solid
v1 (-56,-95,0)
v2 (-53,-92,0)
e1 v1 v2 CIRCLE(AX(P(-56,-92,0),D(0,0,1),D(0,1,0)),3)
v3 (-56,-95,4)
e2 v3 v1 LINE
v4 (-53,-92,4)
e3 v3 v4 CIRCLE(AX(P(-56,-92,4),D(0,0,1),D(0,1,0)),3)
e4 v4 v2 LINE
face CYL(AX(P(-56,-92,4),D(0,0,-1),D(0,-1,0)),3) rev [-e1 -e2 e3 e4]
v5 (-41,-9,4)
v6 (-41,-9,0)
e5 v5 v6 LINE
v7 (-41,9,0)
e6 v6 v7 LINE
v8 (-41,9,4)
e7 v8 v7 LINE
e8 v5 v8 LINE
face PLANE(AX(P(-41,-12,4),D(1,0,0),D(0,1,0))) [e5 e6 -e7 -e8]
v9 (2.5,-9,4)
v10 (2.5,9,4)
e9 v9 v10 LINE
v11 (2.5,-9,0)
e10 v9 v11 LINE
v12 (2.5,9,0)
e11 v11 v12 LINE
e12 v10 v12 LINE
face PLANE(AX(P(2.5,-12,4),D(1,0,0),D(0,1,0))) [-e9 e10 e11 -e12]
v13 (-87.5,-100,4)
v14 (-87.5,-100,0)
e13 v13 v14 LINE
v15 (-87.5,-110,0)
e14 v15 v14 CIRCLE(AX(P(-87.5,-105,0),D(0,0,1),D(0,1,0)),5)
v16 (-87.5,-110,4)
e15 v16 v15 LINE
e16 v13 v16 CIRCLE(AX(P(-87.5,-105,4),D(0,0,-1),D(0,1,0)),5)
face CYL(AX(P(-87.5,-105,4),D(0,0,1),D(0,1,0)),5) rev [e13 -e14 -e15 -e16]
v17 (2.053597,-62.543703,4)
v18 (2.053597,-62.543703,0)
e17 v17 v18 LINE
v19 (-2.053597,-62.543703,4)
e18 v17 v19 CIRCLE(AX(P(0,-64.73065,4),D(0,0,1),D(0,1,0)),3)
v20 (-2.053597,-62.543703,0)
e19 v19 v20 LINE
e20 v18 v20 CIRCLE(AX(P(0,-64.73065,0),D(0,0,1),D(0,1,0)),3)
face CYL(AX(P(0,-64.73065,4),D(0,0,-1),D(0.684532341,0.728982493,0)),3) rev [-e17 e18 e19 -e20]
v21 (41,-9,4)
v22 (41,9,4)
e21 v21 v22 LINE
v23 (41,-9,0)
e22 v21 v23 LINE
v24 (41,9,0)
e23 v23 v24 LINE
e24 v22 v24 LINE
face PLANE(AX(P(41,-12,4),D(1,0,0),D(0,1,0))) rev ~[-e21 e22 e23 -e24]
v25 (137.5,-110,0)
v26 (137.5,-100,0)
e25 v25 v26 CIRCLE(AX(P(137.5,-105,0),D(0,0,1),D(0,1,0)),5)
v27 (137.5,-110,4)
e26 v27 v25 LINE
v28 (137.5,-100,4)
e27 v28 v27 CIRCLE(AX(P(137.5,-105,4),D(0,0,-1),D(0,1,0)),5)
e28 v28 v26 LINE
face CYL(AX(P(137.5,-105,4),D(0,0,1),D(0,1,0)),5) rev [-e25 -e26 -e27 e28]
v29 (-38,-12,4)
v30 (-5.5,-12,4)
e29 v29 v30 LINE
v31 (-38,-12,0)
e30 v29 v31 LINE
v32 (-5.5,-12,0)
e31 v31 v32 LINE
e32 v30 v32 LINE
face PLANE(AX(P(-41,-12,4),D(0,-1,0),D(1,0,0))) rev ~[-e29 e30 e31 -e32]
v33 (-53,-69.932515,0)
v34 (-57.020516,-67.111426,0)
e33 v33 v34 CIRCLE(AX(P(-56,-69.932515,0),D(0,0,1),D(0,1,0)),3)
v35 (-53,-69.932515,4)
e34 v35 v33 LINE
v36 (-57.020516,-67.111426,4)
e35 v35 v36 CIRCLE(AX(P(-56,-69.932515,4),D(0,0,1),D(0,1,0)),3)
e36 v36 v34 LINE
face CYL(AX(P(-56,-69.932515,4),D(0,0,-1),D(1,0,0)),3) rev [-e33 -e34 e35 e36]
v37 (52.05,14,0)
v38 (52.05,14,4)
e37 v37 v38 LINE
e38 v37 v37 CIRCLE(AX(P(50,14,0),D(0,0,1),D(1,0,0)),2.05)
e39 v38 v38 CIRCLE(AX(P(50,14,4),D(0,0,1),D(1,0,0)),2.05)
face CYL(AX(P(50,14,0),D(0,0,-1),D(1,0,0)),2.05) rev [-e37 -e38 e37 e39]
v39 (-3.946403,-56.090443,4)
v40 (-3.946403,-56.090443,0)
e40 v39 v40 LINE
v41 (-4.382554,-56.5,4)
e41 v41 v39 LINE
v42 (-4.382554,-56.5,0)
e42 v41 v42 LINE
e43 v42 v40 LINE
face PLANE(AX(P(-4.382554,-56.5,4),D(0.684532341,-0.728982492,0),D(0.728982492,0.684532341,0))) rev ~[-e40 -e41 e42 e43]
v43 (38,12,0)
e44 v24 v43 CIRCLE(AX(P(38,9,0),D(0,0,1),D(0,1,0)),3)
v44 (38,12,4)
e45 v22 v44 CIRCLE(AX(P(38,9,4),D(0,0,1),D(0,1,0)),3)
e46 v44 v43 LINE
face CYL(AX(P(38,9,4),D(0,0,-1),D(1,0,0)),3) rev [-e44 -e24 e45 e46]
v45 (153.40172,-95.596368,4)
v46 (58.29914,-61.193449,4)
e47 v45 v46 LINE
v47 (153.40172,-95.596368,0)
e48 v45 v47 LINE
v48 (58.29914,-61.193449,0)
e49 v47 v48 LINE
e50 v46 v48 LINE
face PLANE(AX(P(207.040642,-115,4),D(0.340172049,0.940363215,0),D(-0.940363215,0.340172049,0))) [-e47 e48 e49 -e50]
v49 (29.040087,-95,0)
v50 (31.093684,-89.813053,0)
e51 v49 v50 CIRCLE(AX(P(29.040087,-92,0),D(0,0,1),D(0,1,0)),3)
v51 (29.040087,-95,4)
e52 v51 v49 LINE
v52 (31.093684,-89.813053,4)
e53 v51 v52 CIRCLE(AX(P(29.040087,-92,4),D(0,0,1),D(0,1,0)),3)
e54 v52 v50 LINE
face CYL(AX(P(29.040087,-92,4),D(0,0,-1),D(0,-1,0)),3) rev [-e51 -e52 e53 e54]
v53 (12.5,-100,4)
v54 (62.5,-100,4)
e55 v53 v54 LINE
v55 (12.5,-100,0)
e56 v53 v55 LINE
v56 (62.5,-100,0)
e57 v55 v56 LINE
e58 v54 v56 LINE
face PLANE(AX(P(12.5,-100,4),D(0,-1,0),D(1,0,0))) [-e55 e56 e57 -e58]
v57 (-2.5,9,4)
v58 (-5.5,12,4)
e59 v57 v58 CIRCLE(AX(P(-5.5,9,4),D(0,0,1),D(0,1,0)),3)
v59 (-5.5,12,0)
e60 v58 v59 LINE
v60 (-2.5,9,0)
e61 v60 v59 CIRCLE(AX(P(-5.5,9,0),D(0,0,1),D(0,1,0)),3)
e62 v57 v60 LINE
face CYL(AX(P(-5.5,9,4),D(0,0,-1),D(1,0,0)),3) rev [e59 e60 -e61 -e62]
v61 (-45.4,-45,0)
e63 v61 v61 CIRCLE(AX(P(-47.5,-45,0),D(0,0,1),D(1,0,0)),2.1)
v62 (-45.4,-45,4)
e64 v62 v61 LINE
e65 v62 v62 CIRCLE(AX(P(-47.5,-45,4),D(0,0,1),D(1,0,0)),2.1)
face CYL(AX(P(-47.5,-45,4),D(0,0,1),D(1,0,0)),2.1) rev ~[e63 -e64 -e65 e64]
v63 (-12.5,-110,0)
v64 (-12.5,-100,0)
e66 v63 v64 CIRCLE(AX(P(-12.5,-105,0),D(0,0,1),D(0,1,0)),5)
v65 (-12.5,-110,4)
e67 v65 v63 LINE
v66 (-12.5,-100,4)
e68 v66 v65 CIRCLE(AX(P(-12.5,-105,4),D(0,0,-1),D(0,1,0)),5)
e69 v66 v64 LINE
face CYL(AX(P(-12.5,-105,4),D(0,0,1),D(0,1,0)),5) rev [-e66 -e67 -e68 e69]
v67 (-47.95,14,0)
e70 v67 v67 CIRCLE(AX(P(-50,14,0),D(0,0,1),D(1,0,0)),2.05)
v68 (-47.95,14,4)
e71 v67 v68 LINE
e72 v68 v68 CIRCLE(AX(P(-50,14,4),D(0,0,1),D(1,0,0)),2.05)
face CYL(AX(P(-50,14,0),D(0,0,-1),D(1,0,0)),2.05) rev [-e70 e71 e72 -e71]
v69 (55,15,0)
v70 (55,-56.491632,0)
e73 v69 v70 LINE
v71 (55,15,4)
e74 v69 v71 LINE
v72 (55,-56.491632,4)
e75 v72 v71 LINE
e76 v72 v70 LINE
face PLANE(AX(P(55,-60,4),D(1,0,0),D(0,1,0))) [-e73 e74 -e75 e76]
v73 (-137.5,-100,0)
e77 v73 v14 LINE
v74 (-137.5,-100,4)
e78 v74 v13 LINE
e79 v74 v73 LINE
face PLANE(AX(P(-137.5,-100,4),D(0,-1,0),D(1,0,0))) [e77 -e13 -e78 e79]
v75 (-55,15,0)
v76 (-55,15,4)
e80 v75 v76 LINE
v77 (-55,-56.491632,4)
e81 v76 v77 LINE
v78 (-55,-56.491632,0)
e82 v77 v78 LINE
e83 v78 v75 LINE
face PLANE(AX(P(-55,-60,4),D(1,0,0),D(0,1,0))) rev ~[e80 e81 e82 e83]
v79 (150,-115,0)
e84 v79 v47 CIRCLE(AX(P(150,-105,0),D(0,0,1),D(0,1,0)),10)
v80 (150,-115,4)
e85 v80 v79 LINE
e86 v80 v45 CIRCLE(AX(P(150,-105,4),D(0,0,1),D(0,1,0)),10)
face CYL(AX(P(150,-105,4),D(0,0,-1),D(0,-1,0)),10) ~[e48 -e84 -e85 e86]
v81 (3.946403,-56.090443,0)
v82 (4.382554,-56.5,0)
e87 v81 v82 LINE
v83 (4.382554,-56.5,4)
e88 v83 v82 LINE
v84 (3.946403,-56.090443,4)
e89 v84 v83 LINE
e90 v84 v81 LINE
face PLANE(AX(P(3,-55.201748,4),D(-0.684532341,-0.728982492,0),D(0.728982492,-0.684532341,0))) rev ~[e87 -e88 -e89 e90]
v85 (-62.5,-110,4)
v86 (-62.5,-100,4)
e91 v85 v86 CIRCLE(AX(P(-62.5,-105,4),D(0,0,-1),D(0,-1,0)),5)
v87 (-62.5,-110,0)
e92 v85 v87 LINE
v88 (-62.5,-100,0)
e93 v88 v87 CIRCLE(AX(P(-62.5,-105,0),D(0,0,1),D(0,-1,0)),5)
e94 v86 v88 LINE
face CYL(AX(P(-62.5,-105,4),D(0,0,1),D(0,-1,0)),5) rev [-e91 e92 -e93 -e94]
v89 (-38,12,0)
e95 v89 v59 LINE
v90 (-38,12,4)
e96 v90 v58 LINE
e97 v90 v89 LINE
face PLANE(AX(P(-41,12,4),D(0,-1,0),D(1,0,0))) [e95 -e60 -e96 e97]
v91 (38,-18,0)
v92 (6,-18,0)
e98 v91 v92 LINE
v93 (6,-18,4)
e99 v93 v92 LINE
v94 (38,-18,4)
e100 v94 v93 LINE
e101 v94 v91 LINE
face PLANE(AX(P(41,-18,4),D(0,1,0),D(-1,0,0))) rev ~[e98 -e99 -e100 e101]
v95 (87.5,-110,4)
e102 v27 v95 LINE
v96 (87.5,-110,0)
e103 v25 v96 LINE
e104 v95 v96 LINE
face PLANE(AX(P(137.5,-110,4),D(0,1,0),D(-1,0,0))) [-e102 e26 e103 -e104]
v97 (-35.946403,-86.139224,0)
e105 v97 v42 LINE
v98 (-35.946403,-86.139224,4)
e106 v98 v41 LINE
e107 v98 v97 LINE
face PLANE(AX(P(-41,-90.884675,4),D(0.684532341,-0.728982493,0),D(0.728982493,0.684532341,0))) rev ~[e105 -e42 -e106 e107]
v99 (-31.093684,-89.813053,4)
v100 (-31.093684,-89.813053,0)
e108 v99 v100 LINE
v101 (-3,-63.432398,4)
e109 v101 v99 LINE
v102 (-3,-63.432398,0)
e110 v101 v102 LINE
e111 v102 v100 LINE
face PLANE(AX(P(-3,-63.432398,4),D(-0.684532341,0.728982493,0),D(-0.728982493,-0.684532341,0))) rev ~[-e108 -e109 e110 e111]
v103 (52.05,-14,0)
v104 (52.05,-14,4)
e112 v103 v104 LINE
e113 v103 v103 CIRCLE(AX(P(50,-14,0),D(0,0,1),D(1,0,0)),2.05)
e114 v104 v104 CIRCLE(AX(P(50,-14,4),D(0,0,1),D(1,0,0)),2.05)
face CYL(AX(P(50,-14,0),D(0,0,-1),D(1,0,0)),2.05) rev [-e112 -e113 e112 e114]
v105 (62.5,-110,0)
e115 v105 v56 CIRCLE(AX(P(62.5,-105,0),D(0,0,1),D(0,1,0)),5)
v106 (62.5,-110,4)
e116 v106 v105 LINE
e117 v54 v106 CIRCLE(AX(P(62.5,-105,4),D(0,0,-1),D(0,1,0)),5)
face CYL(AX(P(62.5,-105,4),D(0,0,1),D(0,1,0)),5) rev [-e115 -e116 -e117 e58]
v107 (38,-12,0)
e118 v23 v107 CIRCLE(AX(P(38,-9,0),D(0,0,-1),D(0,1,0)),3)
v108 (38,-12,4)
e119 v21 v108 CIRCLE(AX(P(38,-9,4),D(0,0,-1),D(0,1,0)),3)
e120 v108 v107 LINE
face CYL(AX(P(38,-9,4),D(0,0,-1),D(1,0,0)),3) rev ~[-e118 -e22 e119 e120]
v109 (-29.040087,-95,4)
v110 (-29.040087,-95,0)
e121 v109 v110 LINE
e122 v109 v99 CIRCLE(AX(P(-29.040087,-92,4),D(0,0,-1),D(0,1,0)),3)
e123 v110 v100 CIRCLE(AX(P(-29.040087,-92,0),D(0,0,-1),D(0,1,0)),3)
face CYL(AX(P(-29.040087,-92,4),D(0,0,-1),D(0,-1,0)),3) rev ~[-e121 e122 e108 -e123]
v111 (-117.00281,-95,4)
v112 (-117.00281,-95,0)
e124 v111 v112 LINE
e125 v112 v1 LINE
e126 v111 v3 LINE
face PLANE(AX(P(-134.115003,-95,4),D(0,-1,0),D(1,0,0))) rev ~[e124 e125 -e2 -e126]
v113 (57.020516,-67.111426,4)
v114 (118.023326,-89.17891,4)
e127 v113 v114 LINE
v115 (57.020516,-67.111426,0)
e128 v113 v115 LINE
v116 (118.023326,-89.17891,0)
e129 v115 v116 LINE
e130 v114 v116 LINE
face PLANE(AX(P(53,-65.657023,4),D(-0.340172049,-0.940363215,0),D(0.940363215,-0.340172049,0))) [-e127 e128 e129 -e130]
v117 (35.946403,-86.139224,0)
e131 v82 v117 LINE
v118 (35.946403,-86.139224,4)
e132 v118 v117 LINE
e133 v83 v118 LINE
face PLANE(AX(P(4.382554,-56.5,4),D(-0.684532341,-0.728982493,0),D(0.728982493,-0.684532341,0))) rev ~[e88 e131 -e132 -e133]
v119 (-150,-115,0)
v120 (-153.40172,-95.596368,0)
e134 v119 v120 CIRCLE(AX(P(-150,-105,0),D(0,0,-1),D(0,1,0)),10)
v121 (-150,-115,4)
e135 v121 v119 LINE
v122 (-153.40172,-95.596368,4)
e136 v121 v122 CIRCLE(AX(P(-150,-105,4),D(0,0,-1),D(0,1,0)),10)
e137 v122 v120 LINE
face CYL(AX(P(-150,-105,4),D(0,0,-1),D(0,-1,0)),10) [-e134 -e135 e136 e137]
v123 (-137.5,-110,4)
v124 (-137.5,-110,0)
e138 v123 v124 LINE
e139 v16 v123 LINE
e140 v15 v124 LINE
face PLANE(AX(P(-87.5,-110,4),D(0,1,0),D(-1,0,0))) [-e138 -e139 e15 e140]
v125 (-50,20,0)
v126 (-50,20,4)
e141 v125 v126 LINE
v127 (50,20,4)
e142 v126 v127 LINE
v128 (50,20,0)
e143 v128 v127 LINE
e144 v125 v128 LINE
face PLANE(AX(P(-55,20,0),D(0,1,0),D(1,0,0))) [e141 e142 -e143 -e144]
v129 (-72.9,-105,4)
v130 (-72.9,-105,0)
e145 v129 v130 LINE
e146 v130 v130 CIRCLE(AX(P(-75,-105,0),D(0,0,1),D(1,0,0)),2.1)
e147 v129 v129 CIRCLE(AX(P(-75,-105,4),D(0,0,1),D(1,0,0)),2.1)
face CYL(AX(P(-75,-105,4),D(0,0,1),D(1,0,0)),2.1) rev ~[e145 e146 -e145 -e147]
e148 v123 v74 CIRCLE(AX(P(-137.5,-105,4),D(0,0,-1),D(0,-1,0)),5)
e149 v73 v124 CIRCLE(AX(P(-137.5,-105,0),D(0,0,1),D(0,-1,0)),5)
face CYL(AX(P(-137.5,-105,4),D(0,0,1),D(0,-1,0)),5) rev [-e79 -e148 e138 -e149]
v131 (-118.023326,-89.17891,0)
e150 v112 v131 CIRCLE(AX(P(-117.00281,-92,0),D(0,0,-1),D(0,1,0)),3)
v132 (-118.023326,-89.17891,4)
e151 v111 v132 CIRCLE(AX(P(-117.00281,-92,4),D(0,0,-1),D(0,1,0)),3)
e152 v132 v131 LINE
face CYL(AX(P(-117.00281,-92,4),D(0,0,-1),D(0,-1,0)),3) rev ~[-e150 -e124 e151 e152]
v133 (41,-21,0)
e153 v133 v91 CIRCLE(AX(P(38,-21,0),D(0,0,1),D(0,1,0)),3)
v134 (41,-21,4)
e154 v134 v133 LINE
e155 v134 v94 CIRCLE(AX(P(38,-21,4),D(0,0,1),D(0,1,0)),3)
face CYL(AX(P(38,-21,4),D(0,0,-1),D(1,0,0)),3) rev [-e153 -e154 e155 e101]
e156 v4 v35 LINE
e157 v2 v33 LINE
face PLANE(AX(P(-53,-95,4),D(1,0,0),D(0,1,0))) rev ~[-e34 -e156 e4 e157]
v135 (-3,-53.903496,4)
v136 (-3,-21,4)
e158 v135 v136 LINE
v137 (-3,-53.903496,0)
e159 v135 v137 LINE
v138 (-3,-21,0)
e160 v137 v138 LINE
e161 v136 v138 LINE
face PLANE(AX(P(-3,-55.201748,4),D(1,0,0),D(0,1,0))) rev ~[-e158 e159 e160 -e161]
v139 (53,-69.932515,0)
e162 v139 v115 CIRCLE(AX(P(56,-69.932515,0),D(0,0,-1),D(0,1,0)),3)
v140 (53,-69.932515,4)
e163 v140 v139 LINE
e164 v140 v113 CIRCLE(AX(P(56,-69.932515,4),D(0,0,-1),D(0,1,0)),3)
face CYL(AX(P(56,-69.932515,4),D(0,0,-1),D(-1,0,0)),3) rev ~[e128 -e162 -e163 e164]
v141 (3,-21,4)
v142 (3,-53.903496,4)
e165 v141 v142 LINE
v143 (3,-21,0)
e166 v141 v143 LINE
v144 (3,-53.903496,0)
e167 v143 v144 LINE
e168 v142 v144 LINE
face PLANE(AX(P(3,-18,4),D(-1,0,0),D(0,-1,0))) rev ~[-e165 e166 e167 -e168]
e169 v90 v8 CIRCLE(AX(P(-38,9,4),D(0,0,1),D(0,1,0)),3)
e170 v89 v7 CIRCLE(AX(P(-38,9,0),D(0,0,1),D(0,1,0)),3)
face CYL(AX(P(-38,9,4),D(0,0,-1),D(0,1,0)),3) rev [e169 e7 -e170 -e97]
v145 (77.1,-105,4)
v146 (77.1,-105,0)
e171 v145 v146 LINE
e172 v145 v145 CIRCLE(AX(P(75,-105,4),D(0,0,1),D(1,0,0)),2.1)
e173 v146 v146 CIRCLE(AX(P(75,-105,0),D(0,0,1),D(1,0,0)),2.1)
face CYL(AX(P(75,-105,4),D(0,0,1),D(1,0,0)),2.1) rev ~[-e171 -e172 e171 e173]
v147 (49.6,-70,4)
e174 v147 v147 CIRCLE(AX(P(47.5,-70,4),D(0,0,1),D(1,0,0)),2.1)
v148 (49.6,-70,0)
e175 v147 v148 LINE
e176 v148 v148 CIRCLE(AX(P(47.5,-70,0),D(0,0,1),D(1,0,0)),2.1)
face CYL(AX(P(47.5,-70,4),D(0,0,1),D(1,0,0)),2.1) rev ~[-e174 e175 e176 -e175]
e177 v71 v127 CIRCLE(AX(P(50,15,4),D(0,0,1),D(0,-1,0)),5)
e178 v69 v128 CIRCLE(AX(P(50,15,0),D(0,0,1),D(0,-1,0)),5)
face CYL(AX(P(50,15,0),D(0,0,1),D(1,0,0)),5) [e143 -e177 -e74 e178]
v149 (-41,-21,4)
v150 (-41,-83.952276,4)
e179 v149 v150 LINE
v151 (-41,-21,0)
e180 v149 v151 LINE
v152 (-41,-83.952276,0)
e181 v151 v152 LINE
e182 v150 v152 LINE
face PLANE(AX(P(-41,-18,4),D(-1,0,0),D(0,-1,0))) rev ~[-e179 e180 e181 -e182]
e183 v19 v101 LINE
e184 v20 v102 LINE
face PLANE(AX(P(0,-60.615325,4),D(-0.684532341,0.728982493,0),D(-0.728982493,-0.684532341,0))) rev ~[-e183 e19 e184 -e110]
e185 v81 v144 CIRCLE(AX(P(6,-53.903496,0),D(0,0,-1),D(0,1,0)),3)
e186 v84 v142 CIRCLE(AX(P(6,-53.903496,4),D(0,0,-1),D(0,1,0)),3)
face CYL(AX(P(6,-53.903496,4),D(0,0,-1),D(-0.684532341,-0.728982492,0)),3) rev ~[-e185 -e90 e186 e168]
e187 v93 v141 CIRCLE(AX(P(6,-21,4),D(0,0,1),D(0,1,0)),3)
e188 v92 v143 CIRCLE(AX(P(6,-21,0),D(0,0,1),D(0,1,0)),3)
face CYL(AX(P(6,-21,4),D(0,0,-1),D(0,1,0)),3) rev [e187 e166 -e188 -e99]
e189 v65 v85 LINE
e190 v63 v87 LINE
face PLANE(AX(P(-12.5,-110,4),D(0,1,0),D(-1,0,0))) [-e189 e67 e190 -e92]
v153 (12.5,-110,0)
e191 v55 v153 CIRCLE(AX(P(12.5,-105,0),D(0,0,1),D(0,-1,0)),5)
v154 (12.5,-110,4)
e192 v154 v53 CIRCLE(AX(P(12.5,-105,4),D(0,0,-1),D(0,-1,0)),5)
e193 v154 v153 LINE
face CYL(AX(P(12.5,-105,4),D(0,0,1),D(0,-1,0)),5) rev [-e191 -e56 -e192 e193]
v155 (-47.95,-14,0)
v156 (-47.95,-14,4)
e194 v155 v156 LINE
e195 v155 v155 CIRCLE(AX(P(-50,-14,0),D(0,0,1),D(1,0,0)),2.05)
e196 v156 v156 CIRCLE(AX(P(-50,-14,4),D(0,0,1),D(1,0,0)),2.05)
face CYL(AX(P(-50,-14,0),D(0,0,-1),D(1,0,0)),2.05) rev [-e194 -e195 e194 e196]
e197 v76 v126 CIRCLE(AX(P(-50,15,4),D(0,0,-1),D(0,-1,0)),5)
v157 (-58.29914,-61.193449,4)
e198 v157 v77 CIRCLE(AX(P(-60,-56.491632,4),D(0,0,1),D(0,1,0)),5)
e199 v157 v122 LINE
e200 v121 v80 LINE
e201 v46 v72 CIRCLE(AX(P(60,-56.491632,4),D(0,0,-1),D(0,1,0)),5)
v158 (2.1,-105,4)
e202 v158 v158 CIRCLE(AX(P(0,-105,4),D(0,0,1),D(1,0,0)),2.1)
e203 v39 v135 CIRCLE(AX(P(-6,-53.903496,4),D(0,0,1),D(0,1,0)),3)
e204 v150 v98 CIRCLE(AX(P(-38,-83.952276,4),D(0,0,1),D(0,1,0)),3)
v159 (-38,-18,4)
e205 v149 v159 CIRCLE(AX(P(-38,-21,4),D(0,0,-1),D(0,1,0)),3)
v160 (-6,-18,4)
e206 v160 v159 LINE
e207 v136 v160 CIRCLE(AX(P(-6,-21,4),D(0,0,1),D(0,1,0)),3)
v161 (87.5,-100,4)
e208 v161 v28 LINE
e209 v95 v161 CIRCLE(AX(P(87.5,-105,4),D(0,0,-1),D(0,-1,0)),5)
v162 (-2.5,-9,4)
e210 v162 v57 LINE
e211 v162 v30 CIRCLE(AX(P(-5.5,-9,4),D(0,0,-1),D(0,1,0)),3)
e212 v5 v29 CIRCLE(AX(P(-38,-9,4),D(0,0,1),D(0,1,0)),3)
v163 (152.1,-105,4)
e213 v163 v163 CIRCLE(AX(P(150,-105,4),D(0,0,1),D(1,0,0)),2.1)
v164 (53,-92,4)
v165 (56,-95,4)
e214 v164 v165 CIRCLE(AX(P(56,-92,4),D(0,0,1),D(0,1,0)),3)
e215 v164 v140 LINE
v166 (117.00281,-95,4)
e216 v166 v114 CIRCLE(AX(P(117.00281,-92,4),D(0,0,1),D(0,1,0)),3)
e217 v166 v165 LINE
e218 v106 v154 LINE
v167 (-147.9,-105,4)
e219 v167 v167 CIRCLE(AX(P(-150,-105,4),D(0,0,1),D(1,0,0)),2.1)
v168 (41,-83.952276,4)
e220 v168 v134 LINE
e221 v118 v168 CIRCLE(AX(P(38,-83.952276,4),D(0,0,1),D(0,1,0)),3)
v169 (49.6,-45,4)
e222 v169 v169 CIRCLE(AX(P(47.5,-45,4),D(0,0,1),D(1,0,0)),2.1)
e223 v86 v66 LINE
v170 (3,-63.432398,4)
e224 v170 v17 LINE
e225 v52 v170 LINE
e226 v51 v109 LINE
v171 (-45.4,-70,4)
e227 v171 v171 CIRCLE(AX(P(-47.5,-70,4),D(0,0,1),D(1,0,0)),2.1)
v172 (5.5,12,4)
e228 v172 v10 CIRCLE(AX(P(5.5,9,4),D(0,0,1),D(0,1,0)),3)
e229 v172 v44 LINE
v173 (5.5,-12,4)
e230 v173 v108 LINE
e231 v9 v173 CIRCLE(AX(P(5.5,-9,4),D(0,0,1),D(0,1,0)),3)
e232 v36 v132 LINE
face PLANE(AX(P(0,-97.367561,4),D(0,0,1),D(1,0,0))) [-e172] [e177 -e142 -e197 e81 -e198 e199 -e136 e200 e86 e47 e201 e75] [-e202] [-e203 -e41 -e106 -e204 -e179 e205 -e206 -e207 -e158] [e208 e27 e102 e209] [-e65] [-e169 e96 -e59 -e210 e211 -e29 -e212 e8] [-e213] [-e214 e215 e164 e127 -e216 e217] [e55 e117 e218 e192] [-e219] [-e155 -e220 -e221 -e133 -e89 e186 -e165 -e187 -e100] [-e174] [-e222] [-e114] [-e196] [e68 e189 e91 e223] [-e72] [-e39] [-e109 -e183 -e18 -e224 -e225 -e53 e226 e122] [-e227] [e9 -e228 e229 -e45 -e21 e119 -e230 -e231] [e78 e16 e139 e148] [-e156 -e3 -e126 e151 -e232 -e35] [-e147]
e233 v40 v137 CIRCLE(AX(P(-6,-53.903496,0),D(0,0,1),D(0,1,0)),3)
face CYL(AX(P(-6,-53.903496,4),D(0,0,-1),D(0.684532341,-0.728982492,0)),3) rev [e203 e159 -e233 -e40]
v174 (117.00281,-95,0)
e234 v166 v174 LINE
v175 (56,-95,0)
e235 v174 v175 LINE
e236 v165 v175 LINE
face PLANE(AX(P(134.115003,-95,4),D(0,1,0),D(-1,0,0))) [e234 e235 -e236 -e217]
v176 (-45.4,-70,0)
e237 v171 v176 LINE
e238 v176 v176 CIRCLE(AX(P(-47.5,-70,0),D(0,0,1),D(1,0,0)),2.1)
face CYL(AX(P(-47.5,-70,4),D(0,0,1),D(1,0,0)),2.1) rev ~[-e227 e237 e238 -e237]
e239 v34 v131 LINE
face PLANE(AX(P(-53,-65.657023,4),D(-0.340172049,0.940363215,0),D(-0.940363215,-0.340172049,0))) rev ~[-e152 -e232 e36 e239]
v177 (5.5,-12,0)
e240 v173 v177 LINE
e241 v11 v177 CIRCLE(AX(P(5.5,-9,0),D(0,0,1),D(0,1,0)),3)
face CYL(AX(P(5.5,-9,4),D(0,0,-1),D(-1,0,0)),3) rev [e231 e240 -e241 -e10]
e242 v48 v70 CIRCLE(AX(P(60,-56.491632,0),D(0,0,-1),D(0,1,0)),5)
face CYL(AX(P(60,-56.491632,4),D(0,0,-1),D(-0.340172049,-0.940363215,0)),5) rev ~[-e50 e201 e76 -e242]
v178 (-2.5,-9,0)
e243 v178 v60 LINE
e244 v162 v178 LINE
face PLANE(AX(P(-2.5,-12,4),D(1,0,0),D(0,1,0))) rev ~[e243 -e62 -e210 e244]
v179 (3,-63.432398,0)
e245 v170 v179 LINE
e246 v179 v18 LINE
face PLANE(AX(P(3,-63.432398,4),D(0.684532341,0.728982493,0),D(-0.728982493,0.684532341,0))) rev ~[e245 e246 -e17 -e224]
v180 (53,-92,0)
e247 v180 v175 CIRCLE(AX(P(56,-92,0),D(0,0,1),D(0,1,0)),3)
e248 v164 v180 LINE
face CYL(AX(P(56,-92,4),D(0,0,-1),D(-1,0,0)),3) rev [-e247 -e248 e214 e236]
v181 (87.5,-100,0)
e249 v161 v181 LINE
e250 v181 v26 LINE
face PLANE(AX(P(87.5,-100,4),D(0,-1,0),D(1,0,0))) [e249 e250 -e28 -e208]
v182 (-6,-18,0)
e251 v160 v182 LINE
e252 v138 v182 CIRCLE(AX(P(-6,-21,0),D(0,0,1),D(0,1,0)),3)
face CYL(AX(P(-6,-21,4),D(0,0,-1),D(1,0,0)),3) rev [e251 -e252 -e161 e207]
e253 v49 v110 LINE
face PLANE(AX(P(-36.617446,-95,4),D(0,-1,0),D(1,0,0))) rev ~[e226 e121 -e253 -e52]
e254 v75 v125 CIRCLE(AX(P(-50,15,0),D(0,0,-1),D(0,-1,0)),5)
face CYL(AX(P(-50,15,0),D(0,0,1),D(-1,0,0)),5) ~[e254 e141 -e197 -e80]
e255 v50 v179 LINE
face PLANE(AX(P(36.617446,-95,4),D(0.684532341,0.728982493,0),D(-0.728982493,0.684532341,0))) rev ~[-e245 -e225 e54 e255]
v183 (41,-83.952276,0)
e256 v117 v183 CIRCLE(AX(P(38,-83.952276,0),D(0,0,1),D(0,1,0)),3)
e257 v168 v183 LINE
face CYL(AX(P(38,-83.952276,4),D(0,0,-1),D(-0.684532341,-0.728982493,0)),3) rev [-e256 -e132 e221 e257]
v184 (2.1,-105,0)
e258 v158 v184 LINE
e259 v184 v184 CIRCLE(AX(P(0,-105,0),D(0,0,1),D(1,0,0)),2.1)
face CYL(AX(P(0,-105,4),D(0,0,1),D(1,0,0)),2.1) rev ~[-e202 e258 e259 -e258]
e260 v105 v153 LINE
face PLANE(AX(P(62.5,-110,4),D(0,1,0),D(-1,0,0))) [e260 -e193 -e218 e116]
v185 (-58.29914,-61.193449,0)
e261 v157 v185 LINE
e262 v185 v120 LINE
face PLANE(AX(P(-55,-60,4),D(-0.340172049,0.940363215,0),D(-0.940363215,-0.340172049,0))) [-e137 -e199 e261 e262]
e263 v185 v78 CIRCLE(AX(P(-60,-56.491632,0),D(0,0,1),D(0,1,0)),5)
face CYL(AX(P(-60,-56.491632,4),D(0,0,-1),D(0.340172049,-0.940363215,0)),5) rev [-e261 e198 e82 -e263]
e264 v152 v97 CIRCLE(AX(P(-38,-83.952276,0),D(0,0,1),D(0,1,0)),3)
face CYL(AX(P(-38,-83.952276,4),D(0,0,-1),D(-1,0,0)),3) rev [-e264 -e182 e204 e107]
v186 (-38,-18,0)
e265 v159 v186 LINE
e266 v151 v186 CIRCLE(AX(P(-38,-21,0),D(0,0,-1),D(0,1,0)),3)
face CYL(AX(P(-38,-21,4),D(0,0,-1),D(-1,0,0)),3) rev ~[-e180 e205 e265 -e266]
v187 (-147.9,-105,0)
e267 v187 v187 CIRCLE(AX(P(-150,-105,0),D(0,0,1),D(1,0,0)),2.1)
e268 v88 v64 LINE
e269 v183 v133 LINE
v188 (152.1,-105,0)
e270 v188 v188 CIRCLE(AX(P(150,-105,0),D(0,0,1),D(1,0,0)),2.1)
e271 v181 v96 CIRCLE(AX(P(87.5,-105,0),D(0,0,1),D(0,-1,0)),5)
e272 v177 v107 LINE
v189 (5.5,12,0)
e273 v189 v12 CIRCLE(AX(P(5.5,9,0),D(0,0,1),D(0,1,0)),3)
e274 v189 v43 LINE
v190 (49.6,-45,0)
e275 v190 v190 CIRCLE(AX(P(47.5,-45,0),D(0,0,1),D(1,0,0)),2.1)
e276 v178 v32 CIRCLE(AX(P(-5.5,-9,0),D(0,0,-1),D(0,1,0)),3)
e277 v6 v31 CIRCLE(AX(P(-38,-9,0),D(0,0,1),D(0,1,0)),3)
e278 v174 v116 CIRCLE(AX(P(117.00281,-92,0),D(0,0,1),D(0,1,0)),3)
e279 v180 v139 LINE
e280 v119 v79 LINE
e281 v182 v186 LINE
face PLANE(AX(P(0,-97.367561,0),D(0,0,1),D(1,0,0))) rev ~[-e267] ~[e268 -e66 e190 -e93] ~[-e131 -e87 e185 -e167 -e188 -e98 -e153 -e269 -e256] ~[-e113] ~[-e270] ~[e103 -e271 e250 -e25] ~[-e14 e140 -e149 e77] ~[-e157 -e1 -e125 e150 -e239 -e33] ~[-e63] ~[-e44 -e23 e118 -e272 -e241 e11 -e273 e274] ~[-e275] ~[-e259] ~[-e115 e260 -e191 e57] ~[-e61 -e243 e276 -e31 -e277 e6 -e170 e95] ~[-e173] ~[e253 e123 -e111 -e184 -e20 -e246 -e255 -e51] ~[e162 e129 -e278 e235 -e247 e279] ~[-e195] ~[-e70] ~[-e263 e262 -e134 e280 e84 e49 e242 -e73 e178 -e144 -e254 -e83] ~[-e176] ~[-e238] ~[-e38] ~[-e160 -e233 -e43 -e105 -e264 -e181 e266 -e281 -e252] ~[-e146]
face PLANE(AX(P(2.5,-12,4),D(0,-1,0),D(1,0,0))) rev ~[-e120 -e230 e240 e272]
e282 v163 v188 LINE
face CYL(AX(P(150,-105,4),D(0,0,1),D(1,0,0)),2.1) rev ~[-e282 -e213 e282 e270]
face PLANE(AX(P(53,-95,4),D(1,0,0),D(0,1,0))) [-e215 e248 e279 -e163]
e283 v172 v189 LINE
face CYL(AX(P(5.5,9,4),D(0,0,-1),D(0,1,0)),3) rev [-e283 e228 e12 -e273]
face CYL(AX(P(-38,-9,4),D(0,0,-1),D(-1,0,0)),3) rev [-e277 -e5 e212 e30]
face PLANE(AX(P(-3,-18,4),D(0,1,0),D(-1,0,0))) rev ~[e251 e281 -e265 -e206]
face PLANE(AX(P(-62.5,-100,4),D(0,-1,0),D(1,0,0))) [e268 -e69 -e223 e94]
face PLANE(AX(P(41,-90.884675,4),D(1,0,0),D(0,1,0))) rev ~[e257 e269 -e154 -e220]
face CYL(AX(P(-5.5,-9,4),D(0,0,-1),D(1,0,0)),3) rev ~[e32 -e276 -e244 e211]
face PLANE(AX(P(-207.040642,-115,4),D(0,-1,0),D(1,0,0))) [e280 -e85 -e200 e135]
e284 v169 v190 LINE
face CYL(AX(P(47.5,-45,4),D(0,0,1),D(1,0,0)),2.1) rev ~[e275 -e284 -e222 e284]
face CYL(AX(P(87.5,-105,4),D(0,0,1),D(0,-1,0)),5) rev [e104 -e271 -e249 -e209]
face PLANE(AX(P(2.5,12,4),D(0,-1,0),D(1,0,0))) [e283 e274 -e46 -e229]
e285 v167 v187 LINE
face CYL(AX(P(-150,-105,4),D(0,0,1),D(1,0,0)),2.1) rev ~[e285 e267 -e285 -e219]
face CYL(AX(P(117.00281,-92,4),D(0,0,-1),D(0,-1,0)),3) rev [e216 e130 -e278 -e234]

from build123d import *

# Parameters (mm, degrees)
SKETCH_1_W          = 110
SKETCH_1_H          = 40
SKETCH_1_R          = 2.05
EXTRUDE_1_DEPTH     = 4
SKETCH_2_R          = 2.1
SKETCH_2_W          = 110
SKETCH_2_H          = 40
EXTRUDE_2_DEPTH     = 4
FILLET_3_R          = 10
FILLET_4_R          = 5
SKETCH_5_W          = 38.5
SKETCH_5_H          = 24
CUT_EXTRUDE_3_DEPTH = 10
CUT_EXTRUDE_4_DEPTH = 10
CUT_EXTRUDE_5_DEPTH = 10
FILLET_5_R          = 3
SKETCH_8_R          = 2.1
CUT_EXTRUDE_6_DEPTH = 10


with BuildPart() as part:
    # 草图1 → 凸台-拉伸1 (new body)
    with BuildSketch(Plane.XY):
        Rectangle(SKETCH_1_W, SKETCH_1_H)
        with Locations((-50, 14)):
            Circle(SKETCH_1_R, mode=Mode.SUBTRACT)
        with Locations((50, 14)):
            Circle(SKETCH_1_R, mode=Mode.SUBTRACT)
        with Locations((50, -14)):
            Circle(SKETCH_1_R, mode=Mode.SUBTRACT)
        with Locations((-50, -14)):
            Circle(SKETCH_1_R, mode=Mode.SUBTRACT)
    extrude(amount=EXTRUDE_1_DEPTH)

    # 草图2 → 凸台-拉伸2 (add)
    # profile 1 of 2: a face of its own
    with BuildSketch(Plane.XY.offset(4)):
        Polygon((-207.040642195, -115), (207.040642195, -115), (55, -60), (-55, -60), align=None)
        with Locations((150, -105)):
            Circle(SKETCH_2_R, mode=Mode.SUBTRACT)
        with Locations((75, -105)):
            Circle(SKETCH_2_R, mode=Mode.SUBTRACT)
        with Locations((0, -105)):
            Circle(SKETCH_2_R, mode=Mode.SUBTRACT)
        with Locations((-75, -105)):
            Circle(SKETCH_2_R, mode=Mode.SUBTRACT)
        with Locations((-150, -105)):
            Circle(SKETCH_2_R, mode=Mode.SUBTRACT)
    # profile 2 of 2: a face of its own
    with BuildSketch(Plane.XY.offset(4)):
        with Locations((0, -40)):
            Rectangle(SKETCH_2_W, SKETCH_2_H)
    extrude(amount=-EXTRUDE_2_DEPTH)

    # 圆角3
    fillet_3_edges = [part.edges().sort_by_distance(p)[0] for p in [
        (-207.040642195, -115, 2),
        (207.040642195, -115, 2),
    ]]
    fillet(fillet_3_edges, radius=FILLET_3_R)

    # 圆角4
    fillet_4_edges = [part.edges().sort_by_distance(p)[0] for p in [
        (55, -60, 2),
        (-55, -60, 2),
        (-55, 20, 2),
        (55, 20, 2),
    ]]
    fillet(fillet_4_edges, radius=FILLET_4_R)

    # 草图5 → 切除-拉伸3 (cut)
    with BuildSketch(Plane.XY.offset(4)):
        with Locations((-21.75, 0)):
            Rectangle(SKETCH_5_W, SKETCH_5_H)
        with Locations((21.75, 0)):
            Rectangle(SKETCH_5_W, SKETCH_5_H)
        Polygon((-3, -18), (-36.617445924, -18), (-3, -49.56760166), align=None)
        Polygon((-36.617445924, -18), (-41, -18), (-41, -22.115325169), (-4.382554076, -56.5), (-3, -55.201748001), (-3, -49.56760166), align=None)
        Polygon((-4.382554076, -56.5), (-41, -22.115325169), (-41, -90.884674831), align=None)
        Polygon((36.617445924, -18), (3, -18), (3, -49.56760166), align=None)
        Polygon((41, -18), (36.617445924, -18), (3, -49.56760166), (3, -55.201748001), (4.382554076, -56.5), (41, -22.115325169), align=None)
        Polygon((41, -22.115325169), (4.382554076, -56.5), (41, -90.884674831), align=None)
        Polygon((36.617445924, -95), (3, -63.43239834), (3, -95), align=None)
        Polygon((-3, -63.43239834), (-36.617445924, -95), (-3, -95), align=None)
    extrude(amount=-CUT_EXTRUDE_3_DEPTH, mode=Mode.SUBTRACT)

    # 草图6 → 切除-拉伸4 (cut)
    with BuildSketch(Plane.XY.offset(4)):
        with BuildLine():
            Line((-137.5, -100), (-87.5, -100))
            ThreePointArc((-87.5, -100), (-82.5, -105), (-87.5, -110))
            Line((-87.5, -110), (-137.5, -110))
            ThreePointArc((-137.5, -110), (-142.5, -105), (-137.5, -100))
        make_face()
        with BuildLine():
            Line((-62.5, -100), (-12.5, -100))
            ThreePointArc((-12.5, -100), (-7.5, -105), (-12.5, -110))
            Line((-12.5, -110), (-62.5, -110))
            ThreePointArc((-62.5, -110), (-67.5, -105), (-62.5, -100))
        make_face()
        with BuildLine():
            Line((12.5, -100), (62.5, -100))
            ThreePointArc((62.5, -100), (67.5, -105), (62.5, -110))
            Line((62.5, -110), (12.5, -110))
            ThreePointArc((12.5, -110), (7.5, -105), (12.5, -100))
        make_face()
        with BuildLine():
            Line((87.5, -100), (137.5, -100))
            ThreePointArc((137.5, -100), (142.5, -105), (137.5, -110))
            Line((137.5, -110), (87.5, -110))
            ThreePointArc((87.5, -110), (82.5, -105), (87.5, -100))
        make_face()
        Polygon((-53, -65.657022536), (-134.115002501, -95), (-53, -95), align=None)
        Polygon((134.115002501, -95), (53, -95), (53, -65.657022536), align=None)
    extrude(amount=-CUT_EXTRUDE_4_DEPTH, mode=Mode.SUBTRACT)

    # 草图7 → 切除-拉伸5 (cut)
    with BuildSketch(Plane.XY.offset(4)):
        Polygon((-3, -95), (3, -95), (3, -63.43239834), (0, -60.615325169), (-3, -63.43239834), align=None)
    extrude(amount=-CUT_EXTRUDE_5_DEPTH, mode=Mode.SUBTRACT)

    # 圆角5
    fillet_5_edges = [part.edges().sort_by_distance(p)[0] for p in [
        (3, -18, 2),
        (41, -18, 2),
        (41, -90.884674831, 2),
        (3, -55.201748001, 2),
        (36.617445924, -95, 2),
        (-3, -18, 2),
        (-3, -55.201748001, 2),
        (-41, -90.884674831, 2),
        (-41, -18, 2),
        (2.5, 12, 2),
        (41, 12, 2),
        (41, -12, 2),
        (2.5, -12, 2),
        (-36.617445924, -95, 2),
        (-2.5, 12, 2),
        (-2.5, -12, 2),
        (-41, -12, 2),
        (-41, 12, 2),
        (-53, -65.657022536, 2),
        (-53, -95, 2),
        (-134.115002501, -95, 2),
        (53, -65.657022536, 2),
        (134.115002501, -95, 2),
        (53, -95, 2),
        (0, -60.615325169, 2),
    ]]
    fillet(fillet_5_edges, radius=FILLET_5_R)

    # 草图8 → 切除-拉伸6 (cut)
    with BuildSketch(Plane.XY.offset(4)):
        with Locations((-47.5, -45)):
            Circle(SKETCH_8_R)
        with Locations((-47.5, -70)):
            Circle(SKETCH_8_R)
        with Locations((47.5, -45)):
            Circle(SKETCH_8_R)
        with Locations((47.5, -70)):
            Circle(SKETCH_8_R)
    extrude(amount=-CUT_EXTRUDE_6_DEPTH, mode=Mode.SUBTRACT)


solid = part.part
